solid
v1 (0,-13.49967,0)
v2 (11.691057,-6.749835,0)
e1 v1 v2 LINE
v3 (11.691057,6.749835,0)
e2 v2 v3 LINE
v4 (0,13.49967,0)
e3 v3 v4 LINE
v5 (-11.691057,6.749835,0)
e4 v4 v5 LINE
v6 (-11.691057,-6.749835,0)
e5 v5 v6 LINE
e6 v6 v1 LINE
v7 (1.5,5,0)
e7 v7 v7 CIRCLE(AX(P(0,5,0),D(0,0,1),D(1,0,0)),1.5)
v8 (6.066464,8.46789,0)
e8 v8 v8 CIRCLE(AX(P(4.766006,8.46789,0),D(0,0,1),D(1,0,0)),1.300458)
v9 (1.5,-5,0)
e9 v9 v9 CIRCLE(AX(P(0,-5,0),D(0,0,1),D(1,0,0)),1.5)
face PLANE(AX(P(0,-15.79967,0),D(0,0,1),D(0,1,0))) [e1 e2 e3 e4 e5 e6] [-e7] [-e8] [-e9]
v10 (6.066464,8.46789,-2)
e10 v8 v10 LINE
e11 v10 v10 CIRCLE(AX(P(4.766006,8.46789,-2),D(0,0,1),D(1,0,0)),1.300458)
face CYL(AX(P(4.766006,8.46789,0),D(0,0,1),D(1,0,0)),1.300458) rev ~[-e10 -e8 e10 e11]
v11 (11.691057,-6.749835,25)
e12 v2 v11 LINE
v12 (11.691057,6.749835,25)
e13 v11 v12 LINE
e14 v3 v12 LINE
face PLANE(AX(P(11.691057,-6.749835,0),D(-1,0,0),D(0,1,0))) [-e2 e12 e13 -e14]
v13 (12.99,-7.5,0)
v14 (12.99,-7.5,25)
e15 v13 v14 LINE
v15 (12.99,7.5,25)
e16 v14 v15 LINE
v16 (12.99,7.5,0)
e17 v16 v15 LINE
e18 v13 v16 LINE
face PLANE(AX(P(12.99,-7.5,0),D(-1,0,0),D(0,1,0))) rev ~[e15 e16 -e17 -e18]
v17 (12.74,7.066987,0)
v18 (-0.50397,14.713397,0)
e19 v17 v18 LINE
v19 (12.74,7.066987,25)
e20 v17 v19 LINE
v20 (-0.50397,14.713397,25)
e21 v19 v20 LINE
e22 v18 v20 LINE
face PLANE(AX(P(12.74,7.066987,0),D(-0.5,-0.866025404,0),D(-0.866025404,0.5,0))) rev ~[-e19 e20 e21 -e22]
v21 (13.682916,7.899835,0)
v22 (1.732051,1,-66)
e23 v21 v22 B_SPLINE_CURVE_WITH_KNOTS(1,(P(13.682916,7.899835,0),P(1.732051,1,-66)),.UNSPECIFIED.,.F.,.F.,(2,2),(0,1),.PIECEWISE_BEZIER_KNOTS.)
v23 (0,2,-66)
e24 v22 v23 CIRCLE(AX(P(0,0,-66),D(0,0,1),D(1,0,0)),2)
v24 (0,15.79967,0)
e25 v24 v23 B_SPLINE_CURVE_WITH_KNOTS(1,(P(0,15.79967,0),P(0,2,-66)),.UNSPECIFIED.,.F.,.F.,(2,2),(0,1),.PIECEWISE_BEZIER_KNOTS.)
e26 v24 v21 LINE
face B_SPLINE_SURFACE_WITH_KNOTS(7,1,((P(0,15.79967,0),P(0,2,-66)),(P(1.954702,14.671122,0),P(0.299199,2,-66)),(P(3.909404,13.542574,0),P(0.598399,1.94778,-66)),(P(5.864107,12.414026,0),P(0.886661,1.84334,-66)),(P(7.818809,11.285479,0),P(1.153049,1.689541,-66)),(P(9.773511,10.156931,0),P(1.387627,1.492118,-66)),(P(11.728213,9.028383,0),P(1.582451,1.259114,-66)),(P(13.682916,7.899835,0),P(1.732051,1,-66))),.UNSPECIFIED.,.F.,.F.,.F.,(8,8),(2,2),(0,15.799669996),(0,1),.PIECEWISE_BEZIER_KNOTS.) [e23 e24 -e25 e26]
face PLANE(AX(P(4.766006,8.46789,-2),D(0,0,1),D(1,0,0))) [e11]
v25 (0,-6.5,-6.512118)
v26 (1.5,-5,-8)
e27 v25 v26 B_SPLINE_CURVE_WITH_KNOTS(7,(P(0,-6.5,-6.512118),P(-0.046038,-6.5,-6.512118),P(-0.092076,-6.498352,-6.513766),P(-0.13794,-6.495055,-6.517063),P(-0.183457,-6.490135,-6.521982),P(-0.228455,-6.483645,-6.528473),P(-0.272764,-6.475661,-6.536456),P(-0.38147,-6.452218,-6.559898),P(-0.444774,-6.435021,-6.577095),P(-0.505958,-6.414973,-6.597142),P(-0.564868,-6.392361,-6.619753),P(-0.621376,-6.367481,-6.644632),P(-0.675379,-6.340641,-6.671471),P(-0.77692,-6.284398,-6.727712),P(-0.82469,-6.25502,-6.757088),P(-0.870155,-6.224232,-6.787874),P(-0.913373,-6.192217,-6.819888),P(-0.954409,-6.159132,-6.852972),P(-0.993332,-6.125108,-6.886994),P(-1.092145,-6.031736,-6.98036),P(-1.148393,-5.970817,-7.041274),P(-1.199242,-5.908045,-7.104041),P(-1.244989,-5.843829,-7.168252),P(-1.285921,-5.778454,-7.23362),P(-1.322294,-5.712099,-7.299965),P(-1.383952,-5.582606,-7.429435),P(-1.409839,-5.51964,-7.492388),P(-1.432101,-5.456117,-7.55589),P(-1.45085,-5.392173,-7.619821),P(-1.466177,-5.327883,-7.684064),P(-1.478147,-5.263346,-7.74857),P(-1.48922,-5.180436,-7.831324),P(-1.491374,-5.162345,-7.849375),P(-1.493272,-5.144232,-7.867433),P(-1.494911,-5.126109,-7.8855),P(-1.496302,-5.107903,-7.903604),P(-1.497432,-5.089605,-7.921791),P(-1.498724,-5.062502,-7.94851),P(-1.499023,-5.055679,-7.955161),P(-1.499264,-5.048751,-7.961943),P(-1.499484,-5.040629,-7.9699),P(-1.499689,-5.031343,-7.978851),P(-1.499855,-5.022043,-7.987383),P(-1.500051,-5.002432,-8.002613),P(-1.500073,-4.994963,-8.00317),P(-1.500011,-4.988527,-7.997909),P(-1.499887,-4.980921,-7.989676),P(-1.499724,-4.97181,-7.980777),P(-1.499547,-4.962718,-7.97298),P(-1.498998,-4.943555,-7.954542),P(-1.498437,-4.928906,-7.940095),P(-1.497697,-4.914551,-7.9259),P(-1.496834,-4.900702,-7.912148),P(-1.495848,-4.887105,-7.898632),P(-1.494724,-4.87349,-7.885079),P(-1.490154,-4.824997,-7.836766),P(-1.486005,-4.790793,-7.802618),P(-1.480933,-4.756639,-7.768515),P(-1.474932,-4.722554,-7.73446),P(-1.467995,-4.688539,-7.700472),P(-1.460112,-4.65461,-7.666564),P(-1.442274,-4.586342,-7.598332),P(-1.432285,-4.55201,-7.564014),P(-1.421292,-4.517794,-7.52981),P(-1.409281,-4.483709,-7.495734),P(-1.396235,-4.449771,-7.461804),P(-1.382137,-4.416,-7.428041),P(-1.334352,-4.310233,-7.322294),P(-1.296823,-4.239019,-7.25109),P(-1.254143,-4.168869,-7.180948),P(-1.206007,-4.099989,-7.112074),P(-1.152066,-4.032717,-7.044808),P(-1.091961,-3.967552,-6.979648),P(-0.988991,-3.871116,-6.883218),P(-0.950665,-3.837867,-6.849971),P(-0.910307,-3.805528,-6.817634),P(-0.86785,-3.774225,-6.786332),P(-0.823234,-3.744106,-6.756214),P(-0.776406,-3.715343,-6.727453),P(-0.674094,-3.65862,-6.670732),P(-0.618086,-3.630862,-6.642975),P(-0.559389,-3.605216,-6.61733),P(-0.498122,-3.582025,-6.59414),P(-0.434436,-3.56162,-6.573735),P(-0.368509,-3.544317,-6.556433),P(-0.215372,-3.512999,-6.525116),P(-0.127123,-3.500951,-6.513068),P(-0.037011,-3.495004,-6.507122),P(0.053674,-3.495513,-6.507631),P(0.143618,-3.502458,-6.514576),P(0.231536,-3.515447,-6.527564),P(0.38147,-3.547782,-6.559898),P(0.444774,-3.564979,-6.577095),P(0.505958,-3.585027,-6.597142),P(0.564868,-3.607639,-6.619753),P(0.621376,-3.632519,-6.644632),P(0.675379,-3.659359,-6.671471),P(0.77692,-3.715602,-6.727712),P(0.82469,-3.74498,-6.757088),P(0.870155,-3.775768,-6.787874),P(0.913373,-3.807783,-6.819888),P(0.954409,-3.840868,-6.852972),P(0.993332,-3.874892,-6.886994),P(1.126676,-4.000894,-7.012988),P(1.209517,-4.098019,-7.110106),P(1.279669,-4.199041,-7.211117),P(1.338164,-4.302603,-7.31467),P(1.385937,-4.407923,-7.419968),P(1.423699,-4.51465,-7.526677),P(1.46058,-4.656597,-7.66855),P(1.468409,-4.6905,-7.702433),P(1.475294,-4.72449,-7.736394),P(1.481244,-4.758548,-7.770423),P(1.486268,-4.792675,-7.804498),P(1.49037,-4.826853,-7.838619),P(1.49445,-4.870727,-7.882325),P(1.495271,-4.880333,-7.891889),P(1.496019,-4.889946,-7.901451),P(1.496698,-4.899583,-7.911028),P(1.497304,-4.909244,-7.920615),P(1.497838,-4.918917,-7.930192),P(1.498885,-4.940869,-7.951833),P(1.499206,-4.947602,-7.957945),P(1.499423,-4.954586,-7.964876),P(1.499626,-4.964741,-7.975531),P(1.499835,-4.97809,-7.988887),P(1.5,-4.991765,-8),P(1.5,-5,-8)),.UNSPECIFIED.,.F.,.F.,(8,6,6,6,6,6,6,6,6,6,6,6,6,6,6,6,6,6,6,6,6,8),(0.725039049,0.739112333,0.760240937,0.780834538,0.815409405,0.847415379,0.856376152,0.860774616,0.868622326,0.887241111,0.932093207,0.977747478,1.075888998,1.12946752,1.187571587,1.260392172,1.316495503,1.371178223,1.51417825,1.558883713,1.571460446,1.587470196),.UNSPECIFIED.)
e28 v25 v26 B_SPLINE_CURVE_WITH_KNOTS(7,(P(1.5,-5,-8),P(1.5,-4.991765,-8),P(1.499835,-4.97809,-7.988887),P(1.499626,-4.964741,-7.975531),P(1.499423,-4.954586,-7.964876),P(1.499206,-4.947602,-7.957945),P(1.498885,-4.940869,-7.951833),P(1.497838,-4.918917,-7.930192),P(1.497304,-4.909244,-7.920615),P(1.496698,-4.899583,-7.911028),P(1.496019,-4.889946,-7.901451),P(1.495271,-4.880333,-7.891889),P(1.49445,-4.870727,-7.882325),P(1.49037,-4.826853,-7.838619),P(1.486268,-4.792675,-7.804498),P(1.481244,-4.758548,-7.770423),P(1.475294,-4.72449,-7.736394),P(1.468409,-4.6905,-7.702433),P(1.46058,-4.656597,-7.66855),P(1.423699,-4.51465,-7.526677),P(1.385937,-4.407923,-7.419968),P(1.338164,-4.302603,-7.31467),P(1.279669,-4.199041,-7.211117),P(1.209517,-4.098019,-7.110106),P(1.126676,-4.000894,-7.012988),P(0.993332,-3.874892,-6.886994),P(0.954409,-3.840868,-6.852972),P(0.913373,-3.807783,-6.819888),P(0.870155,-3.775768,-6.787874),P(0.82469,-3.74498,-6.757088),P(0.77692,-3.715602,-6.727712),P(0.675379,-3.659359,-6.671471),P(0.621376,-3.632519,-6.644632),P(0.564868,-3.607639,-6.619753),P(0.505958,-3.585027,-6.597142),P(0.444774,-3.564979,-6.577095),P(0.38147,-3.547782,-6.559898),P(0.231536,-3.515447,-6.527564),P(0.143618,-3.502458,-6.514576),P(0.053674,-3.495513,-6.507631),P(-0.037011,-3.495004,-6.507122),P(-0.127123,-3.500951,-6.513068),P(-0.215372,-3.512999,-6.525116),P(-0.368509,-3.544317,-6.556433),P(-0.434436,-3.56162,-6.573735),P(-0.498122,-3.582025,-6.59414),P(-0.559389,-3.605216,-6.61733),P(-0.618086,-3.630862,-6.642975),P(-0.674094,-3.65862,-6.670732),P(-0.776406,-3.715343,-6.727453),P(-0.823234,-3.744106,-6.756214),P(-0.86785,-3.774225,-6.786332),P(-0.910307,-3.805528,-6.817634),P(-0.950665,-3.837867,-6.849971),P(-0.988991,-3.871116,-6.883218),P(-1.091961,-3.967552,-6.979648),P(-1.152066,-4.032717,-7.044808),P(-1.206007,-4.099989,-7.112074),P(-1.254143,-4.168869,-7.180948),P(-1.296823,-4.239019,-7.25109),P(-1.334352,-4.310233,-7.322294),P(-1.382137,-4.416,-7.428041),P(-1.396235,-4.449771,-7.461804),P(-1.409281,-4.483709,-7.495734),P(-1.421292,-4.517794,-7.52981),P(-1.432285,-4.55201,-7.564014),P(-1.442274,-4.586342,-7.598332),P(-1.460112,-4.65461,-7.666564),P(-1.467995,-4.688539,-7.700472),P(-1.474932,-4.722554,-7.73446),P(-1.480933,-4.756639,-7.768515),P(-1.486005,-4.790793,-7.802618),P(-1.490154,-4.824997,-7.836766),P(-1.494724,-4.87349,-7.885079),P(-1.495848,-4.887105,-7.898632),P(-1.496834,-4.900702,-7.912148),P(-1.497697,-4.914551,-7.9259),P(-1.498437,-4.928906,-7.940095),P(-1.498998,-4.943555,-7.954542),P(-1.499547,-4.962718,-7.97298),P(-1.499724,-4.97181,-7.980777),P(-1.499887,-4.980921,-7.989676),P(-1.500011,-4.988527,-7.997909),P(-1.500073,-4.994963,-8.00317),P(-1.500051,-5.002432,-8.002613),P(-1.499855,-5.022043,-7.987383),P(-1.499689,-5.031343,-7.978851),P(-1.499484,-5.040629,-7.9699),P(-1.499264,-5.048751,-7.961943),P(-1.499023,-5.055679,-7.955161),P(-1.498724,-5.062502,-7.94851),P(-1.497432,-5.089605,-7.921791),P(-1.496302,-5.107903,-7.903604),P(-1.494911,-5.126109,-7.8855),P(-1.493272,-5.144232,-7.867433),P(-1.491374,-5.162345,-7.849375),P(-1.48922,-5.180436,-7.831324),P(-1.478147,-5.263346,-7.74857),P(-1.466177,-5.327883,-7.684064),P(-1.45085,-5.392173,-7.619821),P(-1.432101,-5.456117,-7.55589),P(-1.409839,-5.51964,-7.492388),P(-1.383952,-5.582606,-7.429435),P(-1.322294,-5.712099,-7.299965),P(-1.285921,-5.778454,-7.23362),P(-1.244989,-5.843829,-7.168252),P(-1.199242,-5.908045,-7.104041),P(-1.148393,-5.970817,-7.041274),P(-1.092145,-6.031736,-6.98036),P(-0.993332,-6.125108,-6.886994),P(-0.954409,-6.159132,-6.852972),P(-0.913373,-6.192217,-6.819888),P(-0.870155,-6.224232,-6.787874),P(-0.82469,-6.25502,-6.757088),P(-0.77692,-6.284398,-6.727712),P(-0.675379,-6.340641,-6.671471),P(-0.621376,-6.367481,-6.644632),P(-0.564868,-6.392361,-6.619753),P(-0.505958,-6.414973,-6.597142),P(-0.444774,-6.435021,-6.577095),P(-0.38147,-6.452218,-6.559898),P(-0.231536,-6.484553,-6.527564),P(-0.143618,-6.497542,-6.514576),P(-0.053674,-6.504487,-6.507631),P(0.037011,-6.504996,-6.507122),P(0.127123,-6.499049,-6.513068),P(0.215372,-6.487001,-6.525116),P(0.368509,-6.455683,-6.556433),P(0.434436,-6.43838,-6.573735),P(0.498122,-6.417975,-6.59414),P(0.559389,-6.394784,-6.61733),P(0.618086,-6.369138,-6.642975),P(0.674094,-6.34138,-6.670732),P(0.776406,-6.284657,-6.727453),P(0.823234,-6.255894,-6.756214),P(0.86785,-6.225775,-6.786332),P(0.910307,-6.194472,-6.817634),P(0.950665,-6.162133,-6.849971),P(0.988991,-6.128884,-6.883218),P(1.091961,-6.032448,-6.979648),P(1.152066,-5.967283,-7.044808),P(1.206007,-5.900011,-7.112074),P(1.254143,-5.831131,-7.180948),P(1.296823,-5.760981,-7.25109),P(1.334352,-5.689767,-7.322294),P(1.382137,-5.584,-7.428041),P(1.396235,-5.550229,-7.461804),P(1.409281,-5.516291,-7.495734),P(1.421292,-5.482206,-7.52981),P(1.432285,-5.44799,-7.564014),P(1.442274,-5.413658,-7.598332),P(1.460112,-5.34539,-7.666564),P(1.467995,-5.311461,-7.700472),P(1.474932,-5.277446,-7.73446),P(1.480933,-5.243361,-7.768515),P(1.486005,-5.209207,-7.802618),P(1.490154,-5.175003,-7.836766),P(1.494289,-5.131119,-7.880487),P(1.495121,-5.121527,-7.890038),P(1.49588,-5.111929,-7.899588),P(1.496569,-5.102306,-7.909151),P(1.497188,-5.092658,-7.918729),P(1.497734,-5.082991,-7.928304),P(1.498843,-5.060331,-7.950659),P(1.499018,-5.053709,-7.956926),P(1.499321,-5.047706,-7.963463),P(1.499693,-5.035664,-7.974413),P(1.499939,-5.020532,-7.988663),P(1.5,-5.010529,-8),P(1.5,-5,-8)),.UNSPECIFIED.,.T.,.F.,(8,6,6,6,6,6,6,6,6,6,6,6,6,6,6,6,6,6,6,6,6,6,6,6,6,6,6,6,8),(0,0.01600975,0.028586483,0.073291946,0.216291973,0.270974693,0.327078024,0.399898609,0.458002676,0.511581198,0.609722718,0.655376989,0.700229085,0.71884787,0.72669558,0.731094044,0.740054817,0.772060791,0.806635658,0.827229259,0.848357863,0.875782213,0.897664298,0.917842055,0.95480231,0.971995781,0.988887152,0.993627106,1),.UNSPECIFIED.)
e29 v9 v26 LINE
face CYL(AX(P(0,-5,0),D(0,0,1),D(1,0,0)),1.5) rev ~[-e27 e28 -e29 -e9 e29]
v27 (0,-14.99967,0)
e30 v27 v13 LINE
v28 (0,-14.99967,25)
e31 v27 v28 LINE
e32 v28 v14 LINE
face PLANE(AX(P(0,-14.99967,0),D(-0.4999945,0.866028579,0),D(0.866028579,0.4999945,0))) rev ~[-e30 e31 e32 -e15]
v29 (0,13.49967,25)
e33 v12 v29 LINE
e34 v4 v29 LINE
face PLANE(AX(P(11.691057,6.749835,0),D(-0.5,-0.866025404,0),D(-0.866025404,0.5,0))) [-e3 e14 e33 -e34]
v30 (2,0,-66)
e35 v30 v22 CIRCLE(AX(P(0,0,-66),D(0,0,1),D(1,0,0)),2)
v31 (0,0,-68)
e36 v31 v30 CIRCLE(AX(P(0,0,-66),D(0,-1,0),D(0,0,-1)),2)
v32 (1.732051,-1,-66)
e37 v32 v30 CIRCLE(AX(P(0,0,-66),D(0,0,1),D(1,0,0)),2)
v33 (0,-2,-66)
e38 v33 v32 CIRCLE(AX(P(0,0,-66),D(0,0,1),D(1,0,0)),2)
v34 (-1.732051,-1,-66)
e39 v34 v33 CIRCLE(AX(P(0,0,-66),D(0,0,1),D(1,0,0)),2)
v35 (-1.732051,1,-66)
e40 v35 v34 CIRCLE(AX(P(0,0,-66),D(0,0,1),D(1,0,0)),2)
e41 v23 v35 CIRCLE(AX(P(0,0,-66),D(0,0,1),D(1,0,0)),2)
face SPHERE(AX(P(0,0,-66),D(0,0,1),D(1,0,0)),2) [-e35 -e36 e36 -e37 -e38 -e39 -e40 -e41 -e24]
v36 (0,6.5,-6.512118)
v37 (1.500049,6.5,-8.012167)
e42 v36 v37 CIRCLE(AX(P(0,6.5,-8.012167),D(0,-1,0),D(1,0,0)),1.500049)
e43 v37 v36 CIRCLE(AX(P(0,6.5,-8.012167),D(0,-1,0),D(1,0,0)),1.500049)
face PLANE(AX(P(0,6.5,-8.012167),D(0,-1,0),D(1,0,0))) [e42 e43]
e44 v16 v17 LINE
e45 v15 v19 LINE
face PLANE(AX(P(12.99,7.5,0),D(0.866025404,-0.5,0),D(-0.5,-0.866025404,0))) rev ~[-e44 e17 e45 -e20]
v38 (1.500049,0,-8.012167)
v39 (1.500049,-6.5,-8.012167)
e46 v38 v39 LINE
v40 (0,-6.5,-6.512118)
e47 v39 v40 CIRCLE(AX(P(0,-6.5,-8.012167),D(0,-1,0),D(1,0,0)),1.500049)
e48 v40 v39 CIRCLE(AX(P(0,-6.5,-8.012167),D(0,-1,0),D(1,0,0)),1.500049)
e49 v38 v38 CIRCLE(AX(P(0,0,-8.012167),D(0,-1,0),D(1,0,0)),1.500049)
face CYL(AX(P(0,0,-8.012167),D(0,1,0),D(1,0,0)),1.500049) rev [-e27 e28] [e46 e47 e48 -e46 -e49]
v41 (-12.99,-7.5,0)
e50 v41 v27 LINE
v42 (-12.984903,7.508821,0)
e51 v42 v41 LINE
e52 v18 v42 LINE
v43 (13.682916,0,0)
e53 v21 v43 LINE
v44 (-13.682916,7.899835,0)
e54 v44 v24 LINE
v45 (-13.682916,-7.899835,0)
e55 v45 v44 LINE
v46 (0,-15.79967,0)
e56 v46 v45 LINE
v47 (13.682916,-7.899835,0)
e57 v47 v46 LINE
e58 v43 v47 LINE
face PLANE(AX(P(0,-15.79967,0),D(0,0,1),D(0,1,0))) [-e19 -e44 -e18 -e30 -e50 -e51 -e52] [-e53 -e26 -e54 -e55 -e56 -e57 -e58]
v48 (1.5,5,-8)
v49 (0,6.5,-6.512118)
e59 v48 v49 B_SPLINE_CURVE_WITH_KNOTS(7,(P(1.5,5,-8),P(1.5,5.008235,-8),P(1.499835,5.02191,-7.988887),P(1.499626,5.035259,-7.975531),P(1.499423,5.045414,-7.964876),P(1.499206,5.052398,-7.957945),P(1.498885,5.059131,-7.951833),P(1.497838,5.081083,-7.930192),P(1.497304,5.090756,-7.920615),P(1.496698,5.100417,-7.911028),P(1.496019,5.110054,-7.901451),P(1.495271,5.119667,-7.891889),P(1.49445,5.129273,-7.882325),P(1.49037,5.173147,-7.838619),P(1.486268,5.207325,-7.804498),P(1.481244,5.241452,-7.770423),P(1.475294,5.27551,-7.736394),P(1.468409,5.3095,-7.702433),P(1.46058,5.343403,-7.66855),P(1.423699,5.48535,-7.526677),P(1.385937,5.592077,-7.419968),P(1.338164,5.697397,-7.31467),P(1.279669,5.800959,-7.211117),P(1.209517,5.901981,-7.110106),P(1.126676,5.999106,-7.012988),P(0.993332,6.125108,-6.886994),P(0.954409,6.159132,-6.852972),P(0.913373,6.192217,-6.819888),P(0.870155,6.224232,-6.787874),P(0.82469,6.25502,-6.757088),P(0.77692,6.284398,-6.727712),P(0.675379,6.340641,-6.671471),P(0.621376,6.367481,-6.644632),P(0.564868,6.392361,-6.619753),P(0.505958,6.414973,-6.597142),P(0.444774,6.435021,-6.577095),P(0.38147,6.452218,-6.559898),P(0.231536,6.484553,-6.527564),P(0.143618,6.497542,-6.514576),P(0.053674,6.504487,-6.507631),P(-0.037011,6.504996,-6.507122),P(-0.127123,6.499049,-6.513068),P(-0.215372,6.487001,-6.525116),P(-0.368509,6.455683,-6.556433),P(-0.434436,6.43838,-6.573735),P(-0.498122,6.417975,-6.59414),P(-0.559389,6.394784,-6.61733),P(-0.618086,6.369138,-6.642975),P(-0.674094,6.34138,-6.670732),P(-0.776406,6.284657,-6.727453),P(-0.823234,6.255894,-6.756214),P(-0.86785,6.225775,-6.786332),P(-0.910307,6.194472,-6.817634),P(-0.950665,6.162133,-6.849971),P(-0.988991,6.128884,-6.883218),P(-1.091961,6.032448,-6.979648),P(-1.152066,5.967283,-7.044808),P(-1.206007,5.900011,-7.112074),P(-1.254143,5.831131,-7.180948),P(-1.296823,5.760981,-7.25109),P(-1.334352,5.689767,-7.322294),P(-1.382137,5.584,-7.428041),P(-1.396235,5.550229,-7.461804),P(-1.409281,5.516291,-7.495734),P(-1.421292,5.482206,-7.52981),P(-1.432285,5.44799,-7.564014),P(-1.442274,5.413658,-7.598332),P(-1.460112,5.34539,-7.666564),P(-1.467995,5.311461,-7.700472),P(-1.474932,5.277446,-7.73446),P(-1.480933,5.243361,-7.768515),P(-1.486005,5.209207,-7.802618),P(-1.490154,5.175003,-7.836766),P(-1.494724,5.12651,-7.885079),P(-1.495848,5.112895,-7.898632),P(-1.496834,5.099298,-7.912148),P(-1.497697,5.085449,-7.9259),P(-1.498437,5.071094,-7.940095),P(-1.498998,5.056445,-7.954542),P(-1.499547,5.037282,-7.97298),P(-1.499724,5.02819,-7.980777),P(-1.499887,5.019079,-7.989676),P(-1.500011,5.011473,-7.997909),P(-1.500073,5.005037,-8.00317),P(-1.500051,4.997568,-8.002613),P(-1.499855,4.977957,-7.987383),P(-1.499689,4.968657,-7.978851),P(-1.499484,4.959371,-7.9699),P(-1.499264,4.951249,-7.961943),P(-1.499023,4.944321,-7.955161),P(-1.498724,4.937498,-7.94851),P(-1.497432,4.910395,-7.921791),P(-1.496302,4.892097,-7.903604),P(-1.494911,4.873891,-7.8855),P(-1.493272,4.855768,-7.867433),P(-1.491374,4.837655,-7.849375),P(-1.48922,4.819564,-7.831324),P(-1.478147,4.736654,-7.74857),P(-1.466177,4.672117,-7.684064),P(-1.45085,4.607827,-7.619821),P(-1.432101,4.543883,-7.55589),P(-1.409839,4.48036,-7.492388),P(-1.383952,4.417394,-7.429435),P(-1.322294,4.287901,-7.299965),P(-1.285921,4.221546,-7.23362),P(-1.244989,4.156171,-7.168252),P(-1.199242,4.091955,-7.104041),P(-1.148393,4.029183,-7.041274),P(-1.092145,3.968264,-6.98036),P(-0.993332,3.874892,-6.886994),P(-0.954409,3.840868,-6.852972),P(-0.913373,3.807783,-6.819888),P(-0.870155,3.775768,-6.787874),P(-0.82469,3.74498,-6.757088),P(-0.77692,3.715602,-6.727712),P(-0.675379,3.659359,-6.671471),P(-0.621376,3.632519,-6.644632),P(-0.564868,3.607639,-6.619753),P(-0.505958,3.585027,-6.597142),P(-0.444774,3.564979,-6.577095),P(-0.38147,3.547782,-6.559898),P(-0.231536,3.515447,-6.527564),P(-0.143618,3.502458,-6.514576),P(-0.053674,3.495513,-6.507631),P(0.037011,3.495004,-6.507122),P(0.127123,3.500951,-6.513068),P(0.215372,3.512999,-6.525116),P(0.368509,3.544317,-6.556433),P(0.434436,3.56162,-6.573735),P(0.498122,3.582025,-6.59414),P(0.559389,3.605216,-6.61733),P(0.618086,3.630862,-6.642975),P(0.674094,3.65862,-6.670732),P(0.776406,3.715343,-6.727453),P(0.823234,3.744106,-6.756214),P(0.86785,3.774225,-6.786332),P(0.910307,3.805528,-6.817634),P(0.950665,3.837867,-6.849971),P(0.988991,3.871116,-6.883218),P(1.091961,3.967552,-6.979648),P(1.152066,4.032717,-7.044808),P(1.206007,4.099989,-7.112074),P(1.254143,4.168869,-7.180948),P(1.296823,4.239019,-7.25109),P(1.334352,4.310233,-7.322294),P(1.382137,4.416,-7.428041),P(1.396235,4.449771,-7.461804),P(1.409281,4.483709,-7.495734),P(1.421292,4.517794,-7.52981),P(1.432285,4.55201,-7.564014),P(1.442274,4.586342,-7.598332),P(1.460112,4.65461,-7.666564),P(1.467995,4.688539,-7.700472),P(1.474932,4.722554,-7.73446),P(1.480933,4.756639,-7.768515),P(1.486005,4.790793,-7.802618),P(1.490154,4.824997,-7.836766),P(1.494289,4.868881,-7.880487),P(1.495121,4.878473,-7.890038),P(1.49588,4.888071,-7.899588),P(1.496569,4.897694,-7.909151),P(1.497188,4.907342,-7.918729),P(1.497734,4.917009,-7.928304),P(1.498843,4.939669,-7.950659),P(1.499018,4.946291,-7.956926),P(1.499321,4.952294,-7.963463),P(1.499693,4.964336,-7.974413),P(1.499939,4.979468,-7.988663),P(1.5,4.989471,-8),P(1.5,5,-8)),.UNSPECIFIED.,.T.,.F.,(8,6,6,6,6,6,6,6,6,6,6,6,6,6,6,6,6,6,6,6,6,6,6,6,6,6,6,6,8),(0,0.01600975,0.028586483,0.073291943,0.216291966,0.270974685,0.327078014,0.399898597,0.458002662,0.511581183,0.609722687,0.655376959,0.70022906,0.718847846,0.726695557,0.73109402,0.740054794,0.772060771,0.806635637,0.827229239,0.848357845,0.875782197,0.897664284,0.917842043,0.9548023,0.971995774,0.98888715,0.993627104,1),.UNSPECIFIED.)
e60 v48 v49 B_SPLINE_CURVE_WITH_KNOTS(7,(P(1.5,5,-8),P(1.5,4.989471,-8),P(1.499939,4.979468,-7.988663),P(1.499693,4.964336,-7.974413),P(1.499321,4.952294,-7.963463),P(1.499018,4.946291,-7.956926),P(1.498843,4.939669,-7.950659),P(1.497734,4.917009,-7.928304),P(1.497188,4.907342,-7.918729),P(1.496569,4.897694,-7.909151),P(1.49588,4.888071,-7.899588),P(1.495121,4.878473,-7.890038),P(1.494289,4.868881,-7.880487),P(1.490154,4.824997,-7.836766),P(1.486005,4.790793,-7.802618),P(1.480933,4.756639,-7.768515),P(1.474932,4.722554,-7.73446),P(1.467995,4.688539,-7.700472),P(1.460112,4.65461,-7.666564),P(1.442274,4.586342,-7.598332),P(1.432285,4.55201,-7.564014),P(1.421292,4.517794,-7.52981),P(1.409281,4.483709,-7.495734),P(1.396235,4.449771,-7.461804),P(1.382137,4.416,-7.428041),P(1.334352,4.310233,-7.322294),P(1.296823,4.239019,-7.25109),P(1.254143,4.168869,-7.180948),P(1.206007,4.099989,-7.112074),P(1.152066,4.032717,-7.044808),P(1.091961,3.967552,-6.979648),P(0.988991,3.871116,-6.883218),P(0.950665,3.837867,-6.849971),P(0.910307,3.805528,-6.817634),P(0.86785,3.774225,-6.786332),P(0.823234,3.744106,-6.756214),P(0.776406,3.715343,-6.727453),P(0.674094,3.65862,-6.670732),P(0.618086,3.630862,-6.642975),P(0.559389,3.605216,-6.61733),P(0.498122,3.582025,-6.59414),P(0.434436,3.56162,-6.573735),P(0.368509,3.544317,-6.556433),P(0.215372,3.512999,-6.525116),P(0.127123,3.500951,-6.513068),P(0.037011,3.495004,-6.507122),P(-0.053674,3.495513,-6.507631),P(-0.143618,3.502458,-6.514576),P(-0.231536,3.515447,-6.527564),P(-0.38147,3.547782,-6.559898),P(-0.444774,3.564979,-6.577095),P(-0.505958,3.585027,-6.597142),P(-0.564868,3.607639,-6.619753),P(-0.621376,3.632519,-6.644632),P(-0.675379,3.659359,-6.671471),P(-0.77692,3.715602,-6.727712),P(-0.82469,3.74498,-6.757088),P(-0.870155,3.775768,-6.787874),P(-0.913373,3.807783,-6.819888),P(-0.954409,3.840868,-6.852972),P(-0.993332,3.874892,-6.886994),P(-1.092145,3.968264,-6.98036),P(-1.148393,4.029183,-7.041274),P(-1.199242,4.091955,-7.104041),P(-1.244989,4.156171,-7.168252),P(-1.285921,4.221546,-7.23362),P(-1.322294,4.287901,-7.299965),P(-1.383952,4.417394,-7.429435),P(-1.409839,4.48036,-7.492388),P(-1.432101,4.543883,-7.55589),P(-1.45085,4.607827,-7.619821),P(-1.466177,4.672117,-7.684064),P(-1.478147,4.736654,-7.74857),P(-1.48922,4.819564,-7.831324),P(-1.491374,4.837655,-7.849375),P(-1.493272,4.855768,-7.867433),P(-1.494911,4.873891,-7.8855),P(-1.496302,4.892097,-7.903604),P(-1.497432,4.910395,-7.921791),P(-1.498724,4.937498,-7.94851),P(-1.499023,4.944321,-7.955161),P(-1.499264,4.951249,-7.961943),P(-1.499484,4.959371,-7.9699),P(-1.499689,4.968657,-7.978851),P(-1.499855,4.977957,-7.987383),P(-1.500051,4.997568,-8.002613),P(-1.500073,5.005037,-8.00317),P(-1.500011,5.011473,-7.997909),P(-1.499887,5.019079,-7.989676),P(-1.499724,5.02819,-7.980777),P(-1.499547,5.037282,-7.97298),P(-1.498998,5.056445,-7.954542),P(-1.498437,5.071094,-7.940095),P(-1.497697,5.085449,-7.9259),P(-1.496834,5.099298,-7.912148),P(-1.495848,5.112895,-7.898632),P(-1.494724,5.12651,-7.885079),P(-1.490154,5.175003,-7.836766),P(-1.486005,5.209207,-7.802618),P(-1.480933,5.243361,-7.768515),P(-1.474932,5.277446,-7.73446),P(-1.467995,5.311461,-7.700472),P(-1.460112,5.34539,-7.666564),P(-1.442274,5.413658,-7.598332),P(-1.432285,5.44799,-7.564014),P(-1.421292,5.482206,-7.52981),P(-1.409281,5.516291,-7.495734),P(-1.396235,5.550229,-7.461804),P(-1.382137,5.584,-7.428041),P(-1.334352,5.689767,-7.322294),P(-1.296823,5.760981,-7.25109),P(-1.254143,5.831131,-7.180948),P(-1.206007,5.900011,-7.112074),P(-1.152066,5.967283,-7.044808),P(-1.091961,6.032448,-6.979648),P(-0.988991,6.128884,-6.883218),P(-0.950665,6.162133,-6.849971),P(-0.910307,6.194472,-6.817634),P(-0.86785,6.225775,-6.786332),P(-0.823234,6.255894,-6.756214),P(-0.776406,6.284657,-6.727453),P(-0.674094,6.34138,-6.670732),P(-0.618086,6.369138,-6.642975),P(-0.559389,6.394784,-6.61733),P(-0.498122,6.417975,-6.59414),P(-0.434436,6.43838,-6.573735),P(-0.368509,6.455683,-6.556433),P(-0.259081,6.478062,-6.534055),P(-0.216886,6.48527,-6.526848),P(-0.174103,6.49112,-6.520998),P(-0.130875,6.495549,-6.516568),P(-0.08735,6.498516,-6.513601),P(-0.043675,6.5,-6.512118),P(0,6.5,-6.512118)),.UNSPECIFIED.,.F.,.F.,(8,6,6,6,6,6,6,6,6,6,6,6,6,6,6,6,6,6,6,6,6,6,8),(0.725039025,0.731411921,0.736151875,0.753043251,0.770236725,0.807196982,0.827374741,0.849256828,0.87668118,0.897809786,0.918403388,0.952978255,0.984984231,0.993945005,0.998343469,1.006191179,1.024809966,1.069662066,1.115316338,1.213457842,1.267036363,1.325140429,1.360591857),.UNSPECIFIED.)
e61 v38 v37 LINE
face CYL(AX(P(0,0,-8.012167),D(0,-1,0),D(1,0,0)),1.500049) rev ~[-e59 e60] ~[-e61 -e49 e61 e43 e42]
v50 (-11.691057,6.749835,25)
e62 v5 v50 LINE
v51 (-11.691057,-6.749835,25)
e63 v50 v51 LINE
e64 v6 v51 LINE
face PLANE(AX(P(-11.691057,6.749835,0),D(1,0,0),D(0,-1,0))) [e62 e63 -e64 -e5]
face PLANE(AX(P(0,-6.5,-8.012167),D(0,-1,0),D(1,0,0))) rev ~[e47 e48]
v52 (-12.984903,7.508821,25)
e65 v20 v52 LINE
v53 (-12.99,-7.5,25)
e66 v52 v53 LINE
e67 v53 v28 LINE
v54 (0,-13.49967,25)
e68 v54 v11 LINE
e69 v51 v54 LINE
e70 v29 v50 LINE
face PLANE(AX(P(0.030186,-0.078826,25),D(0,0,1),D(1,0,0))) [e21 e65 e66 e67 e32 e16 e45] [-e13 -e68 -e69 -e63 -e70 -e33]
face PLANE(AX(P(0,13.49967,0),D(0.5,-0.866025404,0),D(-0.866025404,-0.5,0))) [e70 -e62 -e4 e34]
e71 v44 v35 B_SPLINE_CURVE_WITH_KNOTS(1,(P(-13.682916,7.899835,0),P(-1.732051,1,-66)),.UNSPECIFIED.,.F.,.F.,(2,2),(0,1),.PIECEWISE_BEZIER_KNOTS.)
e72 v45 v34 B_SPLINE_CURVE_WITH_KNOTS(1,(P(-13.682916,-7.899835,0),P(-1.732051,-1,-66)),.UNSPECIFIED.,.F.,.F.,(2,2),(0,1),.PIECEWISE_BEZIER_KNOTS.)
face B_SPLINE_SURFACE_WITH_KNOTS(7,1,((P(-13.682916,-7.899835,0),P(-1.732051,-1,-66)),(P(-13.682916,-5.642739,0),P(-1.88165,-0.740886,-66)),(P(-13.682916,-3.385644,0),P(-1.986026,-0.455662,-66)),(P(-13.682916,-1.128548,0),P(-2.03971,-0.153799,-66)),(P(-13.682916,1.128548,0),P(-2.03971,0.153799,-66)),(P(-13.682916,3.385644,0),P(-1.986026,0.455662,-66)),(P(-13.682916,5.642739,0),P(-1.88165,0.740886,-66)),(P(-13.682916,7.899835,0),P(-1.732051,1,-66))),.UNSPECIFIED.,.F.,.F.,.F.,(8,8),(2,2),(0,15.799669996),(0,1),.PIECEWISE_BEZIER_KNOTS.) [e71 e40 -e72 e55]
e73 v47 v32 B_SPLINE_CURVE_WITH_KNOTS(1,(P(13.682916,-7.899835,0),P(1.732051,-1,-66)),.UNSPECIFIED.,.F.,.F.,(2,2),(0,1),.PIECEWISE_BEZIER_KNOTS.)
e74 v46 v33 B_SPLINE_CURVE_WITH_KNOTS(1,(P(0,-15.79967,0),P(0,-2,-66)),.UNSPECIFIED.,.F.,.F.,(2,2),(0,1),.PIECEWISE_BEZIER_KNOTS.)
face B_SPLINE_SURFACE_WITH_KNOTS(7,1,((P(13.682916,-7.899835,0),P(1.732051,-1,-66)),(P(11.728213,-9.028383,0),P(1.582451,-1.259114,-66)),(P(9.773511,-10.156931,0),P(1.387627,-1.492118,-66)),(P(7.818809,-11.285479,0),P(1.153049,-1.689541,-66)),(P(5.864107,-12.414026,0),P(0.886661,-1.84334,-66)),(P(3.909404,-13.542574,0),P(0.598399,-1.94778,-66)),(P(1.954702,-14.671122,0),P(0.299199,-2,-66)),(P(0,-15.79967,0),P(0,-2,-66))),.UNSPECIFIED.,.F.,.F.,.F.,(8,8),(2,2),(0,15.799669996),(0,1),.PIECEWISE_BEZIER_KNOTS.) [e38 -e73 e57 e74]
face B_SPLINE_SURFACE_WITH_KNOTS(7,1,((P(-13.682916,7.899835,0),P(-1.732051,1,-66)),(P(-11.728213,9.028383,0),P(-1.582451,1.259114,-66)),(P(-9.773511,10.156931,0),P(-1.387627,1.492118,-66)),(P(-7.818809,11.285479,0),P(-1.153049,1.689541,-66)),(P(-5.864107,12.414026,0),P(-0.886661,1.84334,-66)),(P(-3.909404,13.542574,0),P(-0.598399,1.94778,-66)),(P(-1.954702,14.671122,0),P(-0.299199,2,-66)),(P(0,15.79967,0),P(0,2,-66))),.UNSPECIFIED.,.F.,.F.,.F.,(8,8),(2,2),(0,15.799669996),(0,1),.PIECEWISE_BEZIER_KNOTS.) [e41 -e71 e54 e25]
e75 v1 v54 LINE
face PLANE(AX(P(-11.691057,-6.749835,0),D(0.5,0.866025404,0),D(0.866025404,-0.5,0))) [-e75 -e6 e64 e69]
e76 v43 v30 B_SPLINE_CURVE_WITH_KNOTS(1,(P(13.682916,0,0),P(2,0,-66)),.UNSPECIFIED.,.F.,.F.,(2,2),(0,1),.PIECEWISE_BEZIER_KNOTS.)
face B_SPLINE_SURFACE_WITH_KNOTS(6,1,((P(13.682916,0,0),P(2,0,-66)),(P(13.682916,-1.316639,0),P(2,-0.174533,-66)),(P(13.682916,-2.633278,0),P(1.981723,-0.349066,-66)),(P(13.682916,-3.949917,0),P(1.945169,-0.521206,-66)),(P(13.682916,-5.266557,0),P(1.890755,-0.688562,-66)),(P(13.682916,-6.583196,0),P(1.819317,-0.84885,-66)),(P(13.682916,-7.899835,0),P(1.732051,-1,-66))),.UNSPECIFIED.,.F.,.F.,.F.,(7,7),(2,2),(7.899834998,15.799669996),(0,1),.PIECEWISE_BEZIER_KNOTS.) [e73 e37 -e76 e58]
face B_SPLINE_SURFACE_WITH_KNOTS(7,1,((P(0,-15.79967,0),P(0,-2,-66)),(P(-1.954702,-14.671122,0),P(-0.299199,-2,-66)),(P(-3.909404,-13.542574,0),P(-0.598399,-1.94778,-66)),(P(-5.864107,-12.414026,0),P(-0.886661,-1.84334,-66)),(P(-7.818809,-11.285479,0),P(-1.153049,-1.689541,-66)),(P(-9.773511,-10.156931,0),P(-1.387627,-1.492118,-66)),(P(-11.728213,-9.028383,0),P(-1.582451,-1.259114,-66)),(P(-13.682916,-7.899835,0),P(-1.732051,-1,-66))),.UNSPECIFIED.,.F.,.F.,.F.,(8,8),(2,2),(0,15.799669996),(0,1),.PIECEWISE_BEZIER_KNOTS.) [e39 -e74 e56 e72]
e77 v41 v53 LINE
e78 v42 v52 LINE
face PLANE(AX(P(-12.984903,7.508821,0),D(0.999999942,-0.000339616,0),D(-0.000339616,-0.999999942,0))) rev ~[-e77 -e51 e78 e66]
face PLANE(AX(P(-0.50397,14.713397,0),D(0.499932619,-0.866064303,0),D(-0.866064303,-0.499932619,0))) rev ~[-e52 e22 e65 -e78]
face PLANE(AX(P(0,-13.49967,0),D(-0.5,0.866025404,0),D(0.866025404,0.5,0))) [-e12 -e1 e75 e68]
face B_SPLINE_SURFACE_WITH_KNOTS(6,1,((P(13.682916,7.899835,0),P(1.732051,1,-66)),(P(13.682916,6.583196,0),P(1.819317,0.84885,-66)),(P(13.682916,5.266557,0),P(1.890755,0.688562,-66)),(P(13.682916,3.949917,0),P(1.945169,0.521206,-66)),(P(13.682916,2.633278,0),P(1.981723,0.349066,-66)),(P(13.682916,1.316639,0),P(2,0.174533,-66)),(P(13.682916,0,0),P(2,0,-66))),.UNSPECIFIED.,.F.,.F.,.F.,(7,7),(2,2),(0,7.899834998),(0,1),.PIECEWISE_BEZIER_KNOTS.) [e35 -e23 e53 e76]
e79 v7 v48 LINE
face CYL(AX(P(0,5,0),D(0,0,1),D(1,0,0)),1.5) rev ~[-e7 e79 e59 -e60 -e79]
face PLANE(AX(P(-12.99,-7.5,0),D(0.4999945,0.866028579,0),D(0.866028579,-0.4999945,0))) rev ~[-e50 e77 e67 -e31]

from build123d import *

# Parameters (mm, degrees)
PAD_DEPTH            = 25
SKETCH002_R          = 2
SKETCH003_R          = 1.300458
POCKET_DEPTH         = 2
SKETCH004_R          = 1.5
POCKET001_DEPTH      = 8
SKETCH005_R          = 1.5000493445
POCKET002_DEPTH      = 6.5
POCKET002_DEPTH_BACK = 6.5


with BuildPart() as part:
    # Sketch → Pad (new body)
    with BuildSketch(Plane.XY):
        Polygon((-0.5039697873, 14.7133968199), (-12.9849027673, 7.508821487), (-12.99, -7.5), (0, -14.9996699964), (12.99, -7.5), (12.99, 7.5), (12.74, 7.0669872981), align=None)
        Polygon((0, 13.4996699964), (-11.6910571596, 6.7498349982), (-11.6910571596, -6.7498349982), (0, -13.4996699964), (11.6910571596, -6.7498349982), (11.6910571596, 6.7498349982), align=None, mode=Mode.SUBTRACT)
    extrude(amount=PAD_DEPTH)

    # Sketch001 (on Face14 of Pad) → AdditiveLoft section 0
    with BuildSketch(Plane(origin=(0, 0, 0), x_dir=(1, 0, 0), z_dir=(0, 0, -1))):
        Polygon((0, 15.7996699964), (-13.6829155883, 7.8998349982), (-13.6829155883, -7.8998349982), (0, -15.7996699964), (13.6829155883, -7.8998349982), (13.6829155883, 7.8998349982), align=None)
    # Sketch002 → AdditiveLoft section 1
    with BuildSketch(Plane.XY.offset(-66)):
        Circle(SKETCH002_R)
    loft()

    # Sketch003 (on Face24 of AdditiveLoft) → Pocket (cut)
    with BuildSketch(Plane.XY):
        with Locations((4.766006, 8.46789)):
            Circle(SKETCH003_R)
    extrude(amount=-POCKET_DEPTH, mode=Mode.SUBTRACT)

    # Sketch004 (on Face24 of Pocket) → Pocket001 (cut)
    with BuildSketch(Plane.XY):
        with Locations((0, 5)):
            Circle(SKETCH004_R)
        with Locations((0, -5)):
            Circle(SKETCH004_R)
    extrude(amount=-POCKET001_DEPTH, mode=Mode.SUBTRACT)

    # Sketch005 → Pocket002 (cut, two sides)
    with BuildSketch(Plane.XZ) as pocket002_sk:
        with Locations((0, -8.012167)):
            Circle(SKETCH005_R)
    extrude(amount=-POCKET002_DEPTH, mode=Mode.SUBTRACT)
    extrude(pocket002_sk.sketch, amount=POCKET002_DEPTH_BACK, mode=Mode.SUBTRACT)

    # Sketch006 → Revolution (revolve)
    with BuildSketch(Plane.XZ):
        with BuildLine():
            Line((0, -66), (2, -66))
            ThreePointArc((0, -68), (1.4142135624, -67.4142135624), (2, -66))
            Line((0, -66), (0, -68))
        make_face()
    revolve(axis=Axis((0, 0, 0), (0, 0, 1)))


solid = part.part
